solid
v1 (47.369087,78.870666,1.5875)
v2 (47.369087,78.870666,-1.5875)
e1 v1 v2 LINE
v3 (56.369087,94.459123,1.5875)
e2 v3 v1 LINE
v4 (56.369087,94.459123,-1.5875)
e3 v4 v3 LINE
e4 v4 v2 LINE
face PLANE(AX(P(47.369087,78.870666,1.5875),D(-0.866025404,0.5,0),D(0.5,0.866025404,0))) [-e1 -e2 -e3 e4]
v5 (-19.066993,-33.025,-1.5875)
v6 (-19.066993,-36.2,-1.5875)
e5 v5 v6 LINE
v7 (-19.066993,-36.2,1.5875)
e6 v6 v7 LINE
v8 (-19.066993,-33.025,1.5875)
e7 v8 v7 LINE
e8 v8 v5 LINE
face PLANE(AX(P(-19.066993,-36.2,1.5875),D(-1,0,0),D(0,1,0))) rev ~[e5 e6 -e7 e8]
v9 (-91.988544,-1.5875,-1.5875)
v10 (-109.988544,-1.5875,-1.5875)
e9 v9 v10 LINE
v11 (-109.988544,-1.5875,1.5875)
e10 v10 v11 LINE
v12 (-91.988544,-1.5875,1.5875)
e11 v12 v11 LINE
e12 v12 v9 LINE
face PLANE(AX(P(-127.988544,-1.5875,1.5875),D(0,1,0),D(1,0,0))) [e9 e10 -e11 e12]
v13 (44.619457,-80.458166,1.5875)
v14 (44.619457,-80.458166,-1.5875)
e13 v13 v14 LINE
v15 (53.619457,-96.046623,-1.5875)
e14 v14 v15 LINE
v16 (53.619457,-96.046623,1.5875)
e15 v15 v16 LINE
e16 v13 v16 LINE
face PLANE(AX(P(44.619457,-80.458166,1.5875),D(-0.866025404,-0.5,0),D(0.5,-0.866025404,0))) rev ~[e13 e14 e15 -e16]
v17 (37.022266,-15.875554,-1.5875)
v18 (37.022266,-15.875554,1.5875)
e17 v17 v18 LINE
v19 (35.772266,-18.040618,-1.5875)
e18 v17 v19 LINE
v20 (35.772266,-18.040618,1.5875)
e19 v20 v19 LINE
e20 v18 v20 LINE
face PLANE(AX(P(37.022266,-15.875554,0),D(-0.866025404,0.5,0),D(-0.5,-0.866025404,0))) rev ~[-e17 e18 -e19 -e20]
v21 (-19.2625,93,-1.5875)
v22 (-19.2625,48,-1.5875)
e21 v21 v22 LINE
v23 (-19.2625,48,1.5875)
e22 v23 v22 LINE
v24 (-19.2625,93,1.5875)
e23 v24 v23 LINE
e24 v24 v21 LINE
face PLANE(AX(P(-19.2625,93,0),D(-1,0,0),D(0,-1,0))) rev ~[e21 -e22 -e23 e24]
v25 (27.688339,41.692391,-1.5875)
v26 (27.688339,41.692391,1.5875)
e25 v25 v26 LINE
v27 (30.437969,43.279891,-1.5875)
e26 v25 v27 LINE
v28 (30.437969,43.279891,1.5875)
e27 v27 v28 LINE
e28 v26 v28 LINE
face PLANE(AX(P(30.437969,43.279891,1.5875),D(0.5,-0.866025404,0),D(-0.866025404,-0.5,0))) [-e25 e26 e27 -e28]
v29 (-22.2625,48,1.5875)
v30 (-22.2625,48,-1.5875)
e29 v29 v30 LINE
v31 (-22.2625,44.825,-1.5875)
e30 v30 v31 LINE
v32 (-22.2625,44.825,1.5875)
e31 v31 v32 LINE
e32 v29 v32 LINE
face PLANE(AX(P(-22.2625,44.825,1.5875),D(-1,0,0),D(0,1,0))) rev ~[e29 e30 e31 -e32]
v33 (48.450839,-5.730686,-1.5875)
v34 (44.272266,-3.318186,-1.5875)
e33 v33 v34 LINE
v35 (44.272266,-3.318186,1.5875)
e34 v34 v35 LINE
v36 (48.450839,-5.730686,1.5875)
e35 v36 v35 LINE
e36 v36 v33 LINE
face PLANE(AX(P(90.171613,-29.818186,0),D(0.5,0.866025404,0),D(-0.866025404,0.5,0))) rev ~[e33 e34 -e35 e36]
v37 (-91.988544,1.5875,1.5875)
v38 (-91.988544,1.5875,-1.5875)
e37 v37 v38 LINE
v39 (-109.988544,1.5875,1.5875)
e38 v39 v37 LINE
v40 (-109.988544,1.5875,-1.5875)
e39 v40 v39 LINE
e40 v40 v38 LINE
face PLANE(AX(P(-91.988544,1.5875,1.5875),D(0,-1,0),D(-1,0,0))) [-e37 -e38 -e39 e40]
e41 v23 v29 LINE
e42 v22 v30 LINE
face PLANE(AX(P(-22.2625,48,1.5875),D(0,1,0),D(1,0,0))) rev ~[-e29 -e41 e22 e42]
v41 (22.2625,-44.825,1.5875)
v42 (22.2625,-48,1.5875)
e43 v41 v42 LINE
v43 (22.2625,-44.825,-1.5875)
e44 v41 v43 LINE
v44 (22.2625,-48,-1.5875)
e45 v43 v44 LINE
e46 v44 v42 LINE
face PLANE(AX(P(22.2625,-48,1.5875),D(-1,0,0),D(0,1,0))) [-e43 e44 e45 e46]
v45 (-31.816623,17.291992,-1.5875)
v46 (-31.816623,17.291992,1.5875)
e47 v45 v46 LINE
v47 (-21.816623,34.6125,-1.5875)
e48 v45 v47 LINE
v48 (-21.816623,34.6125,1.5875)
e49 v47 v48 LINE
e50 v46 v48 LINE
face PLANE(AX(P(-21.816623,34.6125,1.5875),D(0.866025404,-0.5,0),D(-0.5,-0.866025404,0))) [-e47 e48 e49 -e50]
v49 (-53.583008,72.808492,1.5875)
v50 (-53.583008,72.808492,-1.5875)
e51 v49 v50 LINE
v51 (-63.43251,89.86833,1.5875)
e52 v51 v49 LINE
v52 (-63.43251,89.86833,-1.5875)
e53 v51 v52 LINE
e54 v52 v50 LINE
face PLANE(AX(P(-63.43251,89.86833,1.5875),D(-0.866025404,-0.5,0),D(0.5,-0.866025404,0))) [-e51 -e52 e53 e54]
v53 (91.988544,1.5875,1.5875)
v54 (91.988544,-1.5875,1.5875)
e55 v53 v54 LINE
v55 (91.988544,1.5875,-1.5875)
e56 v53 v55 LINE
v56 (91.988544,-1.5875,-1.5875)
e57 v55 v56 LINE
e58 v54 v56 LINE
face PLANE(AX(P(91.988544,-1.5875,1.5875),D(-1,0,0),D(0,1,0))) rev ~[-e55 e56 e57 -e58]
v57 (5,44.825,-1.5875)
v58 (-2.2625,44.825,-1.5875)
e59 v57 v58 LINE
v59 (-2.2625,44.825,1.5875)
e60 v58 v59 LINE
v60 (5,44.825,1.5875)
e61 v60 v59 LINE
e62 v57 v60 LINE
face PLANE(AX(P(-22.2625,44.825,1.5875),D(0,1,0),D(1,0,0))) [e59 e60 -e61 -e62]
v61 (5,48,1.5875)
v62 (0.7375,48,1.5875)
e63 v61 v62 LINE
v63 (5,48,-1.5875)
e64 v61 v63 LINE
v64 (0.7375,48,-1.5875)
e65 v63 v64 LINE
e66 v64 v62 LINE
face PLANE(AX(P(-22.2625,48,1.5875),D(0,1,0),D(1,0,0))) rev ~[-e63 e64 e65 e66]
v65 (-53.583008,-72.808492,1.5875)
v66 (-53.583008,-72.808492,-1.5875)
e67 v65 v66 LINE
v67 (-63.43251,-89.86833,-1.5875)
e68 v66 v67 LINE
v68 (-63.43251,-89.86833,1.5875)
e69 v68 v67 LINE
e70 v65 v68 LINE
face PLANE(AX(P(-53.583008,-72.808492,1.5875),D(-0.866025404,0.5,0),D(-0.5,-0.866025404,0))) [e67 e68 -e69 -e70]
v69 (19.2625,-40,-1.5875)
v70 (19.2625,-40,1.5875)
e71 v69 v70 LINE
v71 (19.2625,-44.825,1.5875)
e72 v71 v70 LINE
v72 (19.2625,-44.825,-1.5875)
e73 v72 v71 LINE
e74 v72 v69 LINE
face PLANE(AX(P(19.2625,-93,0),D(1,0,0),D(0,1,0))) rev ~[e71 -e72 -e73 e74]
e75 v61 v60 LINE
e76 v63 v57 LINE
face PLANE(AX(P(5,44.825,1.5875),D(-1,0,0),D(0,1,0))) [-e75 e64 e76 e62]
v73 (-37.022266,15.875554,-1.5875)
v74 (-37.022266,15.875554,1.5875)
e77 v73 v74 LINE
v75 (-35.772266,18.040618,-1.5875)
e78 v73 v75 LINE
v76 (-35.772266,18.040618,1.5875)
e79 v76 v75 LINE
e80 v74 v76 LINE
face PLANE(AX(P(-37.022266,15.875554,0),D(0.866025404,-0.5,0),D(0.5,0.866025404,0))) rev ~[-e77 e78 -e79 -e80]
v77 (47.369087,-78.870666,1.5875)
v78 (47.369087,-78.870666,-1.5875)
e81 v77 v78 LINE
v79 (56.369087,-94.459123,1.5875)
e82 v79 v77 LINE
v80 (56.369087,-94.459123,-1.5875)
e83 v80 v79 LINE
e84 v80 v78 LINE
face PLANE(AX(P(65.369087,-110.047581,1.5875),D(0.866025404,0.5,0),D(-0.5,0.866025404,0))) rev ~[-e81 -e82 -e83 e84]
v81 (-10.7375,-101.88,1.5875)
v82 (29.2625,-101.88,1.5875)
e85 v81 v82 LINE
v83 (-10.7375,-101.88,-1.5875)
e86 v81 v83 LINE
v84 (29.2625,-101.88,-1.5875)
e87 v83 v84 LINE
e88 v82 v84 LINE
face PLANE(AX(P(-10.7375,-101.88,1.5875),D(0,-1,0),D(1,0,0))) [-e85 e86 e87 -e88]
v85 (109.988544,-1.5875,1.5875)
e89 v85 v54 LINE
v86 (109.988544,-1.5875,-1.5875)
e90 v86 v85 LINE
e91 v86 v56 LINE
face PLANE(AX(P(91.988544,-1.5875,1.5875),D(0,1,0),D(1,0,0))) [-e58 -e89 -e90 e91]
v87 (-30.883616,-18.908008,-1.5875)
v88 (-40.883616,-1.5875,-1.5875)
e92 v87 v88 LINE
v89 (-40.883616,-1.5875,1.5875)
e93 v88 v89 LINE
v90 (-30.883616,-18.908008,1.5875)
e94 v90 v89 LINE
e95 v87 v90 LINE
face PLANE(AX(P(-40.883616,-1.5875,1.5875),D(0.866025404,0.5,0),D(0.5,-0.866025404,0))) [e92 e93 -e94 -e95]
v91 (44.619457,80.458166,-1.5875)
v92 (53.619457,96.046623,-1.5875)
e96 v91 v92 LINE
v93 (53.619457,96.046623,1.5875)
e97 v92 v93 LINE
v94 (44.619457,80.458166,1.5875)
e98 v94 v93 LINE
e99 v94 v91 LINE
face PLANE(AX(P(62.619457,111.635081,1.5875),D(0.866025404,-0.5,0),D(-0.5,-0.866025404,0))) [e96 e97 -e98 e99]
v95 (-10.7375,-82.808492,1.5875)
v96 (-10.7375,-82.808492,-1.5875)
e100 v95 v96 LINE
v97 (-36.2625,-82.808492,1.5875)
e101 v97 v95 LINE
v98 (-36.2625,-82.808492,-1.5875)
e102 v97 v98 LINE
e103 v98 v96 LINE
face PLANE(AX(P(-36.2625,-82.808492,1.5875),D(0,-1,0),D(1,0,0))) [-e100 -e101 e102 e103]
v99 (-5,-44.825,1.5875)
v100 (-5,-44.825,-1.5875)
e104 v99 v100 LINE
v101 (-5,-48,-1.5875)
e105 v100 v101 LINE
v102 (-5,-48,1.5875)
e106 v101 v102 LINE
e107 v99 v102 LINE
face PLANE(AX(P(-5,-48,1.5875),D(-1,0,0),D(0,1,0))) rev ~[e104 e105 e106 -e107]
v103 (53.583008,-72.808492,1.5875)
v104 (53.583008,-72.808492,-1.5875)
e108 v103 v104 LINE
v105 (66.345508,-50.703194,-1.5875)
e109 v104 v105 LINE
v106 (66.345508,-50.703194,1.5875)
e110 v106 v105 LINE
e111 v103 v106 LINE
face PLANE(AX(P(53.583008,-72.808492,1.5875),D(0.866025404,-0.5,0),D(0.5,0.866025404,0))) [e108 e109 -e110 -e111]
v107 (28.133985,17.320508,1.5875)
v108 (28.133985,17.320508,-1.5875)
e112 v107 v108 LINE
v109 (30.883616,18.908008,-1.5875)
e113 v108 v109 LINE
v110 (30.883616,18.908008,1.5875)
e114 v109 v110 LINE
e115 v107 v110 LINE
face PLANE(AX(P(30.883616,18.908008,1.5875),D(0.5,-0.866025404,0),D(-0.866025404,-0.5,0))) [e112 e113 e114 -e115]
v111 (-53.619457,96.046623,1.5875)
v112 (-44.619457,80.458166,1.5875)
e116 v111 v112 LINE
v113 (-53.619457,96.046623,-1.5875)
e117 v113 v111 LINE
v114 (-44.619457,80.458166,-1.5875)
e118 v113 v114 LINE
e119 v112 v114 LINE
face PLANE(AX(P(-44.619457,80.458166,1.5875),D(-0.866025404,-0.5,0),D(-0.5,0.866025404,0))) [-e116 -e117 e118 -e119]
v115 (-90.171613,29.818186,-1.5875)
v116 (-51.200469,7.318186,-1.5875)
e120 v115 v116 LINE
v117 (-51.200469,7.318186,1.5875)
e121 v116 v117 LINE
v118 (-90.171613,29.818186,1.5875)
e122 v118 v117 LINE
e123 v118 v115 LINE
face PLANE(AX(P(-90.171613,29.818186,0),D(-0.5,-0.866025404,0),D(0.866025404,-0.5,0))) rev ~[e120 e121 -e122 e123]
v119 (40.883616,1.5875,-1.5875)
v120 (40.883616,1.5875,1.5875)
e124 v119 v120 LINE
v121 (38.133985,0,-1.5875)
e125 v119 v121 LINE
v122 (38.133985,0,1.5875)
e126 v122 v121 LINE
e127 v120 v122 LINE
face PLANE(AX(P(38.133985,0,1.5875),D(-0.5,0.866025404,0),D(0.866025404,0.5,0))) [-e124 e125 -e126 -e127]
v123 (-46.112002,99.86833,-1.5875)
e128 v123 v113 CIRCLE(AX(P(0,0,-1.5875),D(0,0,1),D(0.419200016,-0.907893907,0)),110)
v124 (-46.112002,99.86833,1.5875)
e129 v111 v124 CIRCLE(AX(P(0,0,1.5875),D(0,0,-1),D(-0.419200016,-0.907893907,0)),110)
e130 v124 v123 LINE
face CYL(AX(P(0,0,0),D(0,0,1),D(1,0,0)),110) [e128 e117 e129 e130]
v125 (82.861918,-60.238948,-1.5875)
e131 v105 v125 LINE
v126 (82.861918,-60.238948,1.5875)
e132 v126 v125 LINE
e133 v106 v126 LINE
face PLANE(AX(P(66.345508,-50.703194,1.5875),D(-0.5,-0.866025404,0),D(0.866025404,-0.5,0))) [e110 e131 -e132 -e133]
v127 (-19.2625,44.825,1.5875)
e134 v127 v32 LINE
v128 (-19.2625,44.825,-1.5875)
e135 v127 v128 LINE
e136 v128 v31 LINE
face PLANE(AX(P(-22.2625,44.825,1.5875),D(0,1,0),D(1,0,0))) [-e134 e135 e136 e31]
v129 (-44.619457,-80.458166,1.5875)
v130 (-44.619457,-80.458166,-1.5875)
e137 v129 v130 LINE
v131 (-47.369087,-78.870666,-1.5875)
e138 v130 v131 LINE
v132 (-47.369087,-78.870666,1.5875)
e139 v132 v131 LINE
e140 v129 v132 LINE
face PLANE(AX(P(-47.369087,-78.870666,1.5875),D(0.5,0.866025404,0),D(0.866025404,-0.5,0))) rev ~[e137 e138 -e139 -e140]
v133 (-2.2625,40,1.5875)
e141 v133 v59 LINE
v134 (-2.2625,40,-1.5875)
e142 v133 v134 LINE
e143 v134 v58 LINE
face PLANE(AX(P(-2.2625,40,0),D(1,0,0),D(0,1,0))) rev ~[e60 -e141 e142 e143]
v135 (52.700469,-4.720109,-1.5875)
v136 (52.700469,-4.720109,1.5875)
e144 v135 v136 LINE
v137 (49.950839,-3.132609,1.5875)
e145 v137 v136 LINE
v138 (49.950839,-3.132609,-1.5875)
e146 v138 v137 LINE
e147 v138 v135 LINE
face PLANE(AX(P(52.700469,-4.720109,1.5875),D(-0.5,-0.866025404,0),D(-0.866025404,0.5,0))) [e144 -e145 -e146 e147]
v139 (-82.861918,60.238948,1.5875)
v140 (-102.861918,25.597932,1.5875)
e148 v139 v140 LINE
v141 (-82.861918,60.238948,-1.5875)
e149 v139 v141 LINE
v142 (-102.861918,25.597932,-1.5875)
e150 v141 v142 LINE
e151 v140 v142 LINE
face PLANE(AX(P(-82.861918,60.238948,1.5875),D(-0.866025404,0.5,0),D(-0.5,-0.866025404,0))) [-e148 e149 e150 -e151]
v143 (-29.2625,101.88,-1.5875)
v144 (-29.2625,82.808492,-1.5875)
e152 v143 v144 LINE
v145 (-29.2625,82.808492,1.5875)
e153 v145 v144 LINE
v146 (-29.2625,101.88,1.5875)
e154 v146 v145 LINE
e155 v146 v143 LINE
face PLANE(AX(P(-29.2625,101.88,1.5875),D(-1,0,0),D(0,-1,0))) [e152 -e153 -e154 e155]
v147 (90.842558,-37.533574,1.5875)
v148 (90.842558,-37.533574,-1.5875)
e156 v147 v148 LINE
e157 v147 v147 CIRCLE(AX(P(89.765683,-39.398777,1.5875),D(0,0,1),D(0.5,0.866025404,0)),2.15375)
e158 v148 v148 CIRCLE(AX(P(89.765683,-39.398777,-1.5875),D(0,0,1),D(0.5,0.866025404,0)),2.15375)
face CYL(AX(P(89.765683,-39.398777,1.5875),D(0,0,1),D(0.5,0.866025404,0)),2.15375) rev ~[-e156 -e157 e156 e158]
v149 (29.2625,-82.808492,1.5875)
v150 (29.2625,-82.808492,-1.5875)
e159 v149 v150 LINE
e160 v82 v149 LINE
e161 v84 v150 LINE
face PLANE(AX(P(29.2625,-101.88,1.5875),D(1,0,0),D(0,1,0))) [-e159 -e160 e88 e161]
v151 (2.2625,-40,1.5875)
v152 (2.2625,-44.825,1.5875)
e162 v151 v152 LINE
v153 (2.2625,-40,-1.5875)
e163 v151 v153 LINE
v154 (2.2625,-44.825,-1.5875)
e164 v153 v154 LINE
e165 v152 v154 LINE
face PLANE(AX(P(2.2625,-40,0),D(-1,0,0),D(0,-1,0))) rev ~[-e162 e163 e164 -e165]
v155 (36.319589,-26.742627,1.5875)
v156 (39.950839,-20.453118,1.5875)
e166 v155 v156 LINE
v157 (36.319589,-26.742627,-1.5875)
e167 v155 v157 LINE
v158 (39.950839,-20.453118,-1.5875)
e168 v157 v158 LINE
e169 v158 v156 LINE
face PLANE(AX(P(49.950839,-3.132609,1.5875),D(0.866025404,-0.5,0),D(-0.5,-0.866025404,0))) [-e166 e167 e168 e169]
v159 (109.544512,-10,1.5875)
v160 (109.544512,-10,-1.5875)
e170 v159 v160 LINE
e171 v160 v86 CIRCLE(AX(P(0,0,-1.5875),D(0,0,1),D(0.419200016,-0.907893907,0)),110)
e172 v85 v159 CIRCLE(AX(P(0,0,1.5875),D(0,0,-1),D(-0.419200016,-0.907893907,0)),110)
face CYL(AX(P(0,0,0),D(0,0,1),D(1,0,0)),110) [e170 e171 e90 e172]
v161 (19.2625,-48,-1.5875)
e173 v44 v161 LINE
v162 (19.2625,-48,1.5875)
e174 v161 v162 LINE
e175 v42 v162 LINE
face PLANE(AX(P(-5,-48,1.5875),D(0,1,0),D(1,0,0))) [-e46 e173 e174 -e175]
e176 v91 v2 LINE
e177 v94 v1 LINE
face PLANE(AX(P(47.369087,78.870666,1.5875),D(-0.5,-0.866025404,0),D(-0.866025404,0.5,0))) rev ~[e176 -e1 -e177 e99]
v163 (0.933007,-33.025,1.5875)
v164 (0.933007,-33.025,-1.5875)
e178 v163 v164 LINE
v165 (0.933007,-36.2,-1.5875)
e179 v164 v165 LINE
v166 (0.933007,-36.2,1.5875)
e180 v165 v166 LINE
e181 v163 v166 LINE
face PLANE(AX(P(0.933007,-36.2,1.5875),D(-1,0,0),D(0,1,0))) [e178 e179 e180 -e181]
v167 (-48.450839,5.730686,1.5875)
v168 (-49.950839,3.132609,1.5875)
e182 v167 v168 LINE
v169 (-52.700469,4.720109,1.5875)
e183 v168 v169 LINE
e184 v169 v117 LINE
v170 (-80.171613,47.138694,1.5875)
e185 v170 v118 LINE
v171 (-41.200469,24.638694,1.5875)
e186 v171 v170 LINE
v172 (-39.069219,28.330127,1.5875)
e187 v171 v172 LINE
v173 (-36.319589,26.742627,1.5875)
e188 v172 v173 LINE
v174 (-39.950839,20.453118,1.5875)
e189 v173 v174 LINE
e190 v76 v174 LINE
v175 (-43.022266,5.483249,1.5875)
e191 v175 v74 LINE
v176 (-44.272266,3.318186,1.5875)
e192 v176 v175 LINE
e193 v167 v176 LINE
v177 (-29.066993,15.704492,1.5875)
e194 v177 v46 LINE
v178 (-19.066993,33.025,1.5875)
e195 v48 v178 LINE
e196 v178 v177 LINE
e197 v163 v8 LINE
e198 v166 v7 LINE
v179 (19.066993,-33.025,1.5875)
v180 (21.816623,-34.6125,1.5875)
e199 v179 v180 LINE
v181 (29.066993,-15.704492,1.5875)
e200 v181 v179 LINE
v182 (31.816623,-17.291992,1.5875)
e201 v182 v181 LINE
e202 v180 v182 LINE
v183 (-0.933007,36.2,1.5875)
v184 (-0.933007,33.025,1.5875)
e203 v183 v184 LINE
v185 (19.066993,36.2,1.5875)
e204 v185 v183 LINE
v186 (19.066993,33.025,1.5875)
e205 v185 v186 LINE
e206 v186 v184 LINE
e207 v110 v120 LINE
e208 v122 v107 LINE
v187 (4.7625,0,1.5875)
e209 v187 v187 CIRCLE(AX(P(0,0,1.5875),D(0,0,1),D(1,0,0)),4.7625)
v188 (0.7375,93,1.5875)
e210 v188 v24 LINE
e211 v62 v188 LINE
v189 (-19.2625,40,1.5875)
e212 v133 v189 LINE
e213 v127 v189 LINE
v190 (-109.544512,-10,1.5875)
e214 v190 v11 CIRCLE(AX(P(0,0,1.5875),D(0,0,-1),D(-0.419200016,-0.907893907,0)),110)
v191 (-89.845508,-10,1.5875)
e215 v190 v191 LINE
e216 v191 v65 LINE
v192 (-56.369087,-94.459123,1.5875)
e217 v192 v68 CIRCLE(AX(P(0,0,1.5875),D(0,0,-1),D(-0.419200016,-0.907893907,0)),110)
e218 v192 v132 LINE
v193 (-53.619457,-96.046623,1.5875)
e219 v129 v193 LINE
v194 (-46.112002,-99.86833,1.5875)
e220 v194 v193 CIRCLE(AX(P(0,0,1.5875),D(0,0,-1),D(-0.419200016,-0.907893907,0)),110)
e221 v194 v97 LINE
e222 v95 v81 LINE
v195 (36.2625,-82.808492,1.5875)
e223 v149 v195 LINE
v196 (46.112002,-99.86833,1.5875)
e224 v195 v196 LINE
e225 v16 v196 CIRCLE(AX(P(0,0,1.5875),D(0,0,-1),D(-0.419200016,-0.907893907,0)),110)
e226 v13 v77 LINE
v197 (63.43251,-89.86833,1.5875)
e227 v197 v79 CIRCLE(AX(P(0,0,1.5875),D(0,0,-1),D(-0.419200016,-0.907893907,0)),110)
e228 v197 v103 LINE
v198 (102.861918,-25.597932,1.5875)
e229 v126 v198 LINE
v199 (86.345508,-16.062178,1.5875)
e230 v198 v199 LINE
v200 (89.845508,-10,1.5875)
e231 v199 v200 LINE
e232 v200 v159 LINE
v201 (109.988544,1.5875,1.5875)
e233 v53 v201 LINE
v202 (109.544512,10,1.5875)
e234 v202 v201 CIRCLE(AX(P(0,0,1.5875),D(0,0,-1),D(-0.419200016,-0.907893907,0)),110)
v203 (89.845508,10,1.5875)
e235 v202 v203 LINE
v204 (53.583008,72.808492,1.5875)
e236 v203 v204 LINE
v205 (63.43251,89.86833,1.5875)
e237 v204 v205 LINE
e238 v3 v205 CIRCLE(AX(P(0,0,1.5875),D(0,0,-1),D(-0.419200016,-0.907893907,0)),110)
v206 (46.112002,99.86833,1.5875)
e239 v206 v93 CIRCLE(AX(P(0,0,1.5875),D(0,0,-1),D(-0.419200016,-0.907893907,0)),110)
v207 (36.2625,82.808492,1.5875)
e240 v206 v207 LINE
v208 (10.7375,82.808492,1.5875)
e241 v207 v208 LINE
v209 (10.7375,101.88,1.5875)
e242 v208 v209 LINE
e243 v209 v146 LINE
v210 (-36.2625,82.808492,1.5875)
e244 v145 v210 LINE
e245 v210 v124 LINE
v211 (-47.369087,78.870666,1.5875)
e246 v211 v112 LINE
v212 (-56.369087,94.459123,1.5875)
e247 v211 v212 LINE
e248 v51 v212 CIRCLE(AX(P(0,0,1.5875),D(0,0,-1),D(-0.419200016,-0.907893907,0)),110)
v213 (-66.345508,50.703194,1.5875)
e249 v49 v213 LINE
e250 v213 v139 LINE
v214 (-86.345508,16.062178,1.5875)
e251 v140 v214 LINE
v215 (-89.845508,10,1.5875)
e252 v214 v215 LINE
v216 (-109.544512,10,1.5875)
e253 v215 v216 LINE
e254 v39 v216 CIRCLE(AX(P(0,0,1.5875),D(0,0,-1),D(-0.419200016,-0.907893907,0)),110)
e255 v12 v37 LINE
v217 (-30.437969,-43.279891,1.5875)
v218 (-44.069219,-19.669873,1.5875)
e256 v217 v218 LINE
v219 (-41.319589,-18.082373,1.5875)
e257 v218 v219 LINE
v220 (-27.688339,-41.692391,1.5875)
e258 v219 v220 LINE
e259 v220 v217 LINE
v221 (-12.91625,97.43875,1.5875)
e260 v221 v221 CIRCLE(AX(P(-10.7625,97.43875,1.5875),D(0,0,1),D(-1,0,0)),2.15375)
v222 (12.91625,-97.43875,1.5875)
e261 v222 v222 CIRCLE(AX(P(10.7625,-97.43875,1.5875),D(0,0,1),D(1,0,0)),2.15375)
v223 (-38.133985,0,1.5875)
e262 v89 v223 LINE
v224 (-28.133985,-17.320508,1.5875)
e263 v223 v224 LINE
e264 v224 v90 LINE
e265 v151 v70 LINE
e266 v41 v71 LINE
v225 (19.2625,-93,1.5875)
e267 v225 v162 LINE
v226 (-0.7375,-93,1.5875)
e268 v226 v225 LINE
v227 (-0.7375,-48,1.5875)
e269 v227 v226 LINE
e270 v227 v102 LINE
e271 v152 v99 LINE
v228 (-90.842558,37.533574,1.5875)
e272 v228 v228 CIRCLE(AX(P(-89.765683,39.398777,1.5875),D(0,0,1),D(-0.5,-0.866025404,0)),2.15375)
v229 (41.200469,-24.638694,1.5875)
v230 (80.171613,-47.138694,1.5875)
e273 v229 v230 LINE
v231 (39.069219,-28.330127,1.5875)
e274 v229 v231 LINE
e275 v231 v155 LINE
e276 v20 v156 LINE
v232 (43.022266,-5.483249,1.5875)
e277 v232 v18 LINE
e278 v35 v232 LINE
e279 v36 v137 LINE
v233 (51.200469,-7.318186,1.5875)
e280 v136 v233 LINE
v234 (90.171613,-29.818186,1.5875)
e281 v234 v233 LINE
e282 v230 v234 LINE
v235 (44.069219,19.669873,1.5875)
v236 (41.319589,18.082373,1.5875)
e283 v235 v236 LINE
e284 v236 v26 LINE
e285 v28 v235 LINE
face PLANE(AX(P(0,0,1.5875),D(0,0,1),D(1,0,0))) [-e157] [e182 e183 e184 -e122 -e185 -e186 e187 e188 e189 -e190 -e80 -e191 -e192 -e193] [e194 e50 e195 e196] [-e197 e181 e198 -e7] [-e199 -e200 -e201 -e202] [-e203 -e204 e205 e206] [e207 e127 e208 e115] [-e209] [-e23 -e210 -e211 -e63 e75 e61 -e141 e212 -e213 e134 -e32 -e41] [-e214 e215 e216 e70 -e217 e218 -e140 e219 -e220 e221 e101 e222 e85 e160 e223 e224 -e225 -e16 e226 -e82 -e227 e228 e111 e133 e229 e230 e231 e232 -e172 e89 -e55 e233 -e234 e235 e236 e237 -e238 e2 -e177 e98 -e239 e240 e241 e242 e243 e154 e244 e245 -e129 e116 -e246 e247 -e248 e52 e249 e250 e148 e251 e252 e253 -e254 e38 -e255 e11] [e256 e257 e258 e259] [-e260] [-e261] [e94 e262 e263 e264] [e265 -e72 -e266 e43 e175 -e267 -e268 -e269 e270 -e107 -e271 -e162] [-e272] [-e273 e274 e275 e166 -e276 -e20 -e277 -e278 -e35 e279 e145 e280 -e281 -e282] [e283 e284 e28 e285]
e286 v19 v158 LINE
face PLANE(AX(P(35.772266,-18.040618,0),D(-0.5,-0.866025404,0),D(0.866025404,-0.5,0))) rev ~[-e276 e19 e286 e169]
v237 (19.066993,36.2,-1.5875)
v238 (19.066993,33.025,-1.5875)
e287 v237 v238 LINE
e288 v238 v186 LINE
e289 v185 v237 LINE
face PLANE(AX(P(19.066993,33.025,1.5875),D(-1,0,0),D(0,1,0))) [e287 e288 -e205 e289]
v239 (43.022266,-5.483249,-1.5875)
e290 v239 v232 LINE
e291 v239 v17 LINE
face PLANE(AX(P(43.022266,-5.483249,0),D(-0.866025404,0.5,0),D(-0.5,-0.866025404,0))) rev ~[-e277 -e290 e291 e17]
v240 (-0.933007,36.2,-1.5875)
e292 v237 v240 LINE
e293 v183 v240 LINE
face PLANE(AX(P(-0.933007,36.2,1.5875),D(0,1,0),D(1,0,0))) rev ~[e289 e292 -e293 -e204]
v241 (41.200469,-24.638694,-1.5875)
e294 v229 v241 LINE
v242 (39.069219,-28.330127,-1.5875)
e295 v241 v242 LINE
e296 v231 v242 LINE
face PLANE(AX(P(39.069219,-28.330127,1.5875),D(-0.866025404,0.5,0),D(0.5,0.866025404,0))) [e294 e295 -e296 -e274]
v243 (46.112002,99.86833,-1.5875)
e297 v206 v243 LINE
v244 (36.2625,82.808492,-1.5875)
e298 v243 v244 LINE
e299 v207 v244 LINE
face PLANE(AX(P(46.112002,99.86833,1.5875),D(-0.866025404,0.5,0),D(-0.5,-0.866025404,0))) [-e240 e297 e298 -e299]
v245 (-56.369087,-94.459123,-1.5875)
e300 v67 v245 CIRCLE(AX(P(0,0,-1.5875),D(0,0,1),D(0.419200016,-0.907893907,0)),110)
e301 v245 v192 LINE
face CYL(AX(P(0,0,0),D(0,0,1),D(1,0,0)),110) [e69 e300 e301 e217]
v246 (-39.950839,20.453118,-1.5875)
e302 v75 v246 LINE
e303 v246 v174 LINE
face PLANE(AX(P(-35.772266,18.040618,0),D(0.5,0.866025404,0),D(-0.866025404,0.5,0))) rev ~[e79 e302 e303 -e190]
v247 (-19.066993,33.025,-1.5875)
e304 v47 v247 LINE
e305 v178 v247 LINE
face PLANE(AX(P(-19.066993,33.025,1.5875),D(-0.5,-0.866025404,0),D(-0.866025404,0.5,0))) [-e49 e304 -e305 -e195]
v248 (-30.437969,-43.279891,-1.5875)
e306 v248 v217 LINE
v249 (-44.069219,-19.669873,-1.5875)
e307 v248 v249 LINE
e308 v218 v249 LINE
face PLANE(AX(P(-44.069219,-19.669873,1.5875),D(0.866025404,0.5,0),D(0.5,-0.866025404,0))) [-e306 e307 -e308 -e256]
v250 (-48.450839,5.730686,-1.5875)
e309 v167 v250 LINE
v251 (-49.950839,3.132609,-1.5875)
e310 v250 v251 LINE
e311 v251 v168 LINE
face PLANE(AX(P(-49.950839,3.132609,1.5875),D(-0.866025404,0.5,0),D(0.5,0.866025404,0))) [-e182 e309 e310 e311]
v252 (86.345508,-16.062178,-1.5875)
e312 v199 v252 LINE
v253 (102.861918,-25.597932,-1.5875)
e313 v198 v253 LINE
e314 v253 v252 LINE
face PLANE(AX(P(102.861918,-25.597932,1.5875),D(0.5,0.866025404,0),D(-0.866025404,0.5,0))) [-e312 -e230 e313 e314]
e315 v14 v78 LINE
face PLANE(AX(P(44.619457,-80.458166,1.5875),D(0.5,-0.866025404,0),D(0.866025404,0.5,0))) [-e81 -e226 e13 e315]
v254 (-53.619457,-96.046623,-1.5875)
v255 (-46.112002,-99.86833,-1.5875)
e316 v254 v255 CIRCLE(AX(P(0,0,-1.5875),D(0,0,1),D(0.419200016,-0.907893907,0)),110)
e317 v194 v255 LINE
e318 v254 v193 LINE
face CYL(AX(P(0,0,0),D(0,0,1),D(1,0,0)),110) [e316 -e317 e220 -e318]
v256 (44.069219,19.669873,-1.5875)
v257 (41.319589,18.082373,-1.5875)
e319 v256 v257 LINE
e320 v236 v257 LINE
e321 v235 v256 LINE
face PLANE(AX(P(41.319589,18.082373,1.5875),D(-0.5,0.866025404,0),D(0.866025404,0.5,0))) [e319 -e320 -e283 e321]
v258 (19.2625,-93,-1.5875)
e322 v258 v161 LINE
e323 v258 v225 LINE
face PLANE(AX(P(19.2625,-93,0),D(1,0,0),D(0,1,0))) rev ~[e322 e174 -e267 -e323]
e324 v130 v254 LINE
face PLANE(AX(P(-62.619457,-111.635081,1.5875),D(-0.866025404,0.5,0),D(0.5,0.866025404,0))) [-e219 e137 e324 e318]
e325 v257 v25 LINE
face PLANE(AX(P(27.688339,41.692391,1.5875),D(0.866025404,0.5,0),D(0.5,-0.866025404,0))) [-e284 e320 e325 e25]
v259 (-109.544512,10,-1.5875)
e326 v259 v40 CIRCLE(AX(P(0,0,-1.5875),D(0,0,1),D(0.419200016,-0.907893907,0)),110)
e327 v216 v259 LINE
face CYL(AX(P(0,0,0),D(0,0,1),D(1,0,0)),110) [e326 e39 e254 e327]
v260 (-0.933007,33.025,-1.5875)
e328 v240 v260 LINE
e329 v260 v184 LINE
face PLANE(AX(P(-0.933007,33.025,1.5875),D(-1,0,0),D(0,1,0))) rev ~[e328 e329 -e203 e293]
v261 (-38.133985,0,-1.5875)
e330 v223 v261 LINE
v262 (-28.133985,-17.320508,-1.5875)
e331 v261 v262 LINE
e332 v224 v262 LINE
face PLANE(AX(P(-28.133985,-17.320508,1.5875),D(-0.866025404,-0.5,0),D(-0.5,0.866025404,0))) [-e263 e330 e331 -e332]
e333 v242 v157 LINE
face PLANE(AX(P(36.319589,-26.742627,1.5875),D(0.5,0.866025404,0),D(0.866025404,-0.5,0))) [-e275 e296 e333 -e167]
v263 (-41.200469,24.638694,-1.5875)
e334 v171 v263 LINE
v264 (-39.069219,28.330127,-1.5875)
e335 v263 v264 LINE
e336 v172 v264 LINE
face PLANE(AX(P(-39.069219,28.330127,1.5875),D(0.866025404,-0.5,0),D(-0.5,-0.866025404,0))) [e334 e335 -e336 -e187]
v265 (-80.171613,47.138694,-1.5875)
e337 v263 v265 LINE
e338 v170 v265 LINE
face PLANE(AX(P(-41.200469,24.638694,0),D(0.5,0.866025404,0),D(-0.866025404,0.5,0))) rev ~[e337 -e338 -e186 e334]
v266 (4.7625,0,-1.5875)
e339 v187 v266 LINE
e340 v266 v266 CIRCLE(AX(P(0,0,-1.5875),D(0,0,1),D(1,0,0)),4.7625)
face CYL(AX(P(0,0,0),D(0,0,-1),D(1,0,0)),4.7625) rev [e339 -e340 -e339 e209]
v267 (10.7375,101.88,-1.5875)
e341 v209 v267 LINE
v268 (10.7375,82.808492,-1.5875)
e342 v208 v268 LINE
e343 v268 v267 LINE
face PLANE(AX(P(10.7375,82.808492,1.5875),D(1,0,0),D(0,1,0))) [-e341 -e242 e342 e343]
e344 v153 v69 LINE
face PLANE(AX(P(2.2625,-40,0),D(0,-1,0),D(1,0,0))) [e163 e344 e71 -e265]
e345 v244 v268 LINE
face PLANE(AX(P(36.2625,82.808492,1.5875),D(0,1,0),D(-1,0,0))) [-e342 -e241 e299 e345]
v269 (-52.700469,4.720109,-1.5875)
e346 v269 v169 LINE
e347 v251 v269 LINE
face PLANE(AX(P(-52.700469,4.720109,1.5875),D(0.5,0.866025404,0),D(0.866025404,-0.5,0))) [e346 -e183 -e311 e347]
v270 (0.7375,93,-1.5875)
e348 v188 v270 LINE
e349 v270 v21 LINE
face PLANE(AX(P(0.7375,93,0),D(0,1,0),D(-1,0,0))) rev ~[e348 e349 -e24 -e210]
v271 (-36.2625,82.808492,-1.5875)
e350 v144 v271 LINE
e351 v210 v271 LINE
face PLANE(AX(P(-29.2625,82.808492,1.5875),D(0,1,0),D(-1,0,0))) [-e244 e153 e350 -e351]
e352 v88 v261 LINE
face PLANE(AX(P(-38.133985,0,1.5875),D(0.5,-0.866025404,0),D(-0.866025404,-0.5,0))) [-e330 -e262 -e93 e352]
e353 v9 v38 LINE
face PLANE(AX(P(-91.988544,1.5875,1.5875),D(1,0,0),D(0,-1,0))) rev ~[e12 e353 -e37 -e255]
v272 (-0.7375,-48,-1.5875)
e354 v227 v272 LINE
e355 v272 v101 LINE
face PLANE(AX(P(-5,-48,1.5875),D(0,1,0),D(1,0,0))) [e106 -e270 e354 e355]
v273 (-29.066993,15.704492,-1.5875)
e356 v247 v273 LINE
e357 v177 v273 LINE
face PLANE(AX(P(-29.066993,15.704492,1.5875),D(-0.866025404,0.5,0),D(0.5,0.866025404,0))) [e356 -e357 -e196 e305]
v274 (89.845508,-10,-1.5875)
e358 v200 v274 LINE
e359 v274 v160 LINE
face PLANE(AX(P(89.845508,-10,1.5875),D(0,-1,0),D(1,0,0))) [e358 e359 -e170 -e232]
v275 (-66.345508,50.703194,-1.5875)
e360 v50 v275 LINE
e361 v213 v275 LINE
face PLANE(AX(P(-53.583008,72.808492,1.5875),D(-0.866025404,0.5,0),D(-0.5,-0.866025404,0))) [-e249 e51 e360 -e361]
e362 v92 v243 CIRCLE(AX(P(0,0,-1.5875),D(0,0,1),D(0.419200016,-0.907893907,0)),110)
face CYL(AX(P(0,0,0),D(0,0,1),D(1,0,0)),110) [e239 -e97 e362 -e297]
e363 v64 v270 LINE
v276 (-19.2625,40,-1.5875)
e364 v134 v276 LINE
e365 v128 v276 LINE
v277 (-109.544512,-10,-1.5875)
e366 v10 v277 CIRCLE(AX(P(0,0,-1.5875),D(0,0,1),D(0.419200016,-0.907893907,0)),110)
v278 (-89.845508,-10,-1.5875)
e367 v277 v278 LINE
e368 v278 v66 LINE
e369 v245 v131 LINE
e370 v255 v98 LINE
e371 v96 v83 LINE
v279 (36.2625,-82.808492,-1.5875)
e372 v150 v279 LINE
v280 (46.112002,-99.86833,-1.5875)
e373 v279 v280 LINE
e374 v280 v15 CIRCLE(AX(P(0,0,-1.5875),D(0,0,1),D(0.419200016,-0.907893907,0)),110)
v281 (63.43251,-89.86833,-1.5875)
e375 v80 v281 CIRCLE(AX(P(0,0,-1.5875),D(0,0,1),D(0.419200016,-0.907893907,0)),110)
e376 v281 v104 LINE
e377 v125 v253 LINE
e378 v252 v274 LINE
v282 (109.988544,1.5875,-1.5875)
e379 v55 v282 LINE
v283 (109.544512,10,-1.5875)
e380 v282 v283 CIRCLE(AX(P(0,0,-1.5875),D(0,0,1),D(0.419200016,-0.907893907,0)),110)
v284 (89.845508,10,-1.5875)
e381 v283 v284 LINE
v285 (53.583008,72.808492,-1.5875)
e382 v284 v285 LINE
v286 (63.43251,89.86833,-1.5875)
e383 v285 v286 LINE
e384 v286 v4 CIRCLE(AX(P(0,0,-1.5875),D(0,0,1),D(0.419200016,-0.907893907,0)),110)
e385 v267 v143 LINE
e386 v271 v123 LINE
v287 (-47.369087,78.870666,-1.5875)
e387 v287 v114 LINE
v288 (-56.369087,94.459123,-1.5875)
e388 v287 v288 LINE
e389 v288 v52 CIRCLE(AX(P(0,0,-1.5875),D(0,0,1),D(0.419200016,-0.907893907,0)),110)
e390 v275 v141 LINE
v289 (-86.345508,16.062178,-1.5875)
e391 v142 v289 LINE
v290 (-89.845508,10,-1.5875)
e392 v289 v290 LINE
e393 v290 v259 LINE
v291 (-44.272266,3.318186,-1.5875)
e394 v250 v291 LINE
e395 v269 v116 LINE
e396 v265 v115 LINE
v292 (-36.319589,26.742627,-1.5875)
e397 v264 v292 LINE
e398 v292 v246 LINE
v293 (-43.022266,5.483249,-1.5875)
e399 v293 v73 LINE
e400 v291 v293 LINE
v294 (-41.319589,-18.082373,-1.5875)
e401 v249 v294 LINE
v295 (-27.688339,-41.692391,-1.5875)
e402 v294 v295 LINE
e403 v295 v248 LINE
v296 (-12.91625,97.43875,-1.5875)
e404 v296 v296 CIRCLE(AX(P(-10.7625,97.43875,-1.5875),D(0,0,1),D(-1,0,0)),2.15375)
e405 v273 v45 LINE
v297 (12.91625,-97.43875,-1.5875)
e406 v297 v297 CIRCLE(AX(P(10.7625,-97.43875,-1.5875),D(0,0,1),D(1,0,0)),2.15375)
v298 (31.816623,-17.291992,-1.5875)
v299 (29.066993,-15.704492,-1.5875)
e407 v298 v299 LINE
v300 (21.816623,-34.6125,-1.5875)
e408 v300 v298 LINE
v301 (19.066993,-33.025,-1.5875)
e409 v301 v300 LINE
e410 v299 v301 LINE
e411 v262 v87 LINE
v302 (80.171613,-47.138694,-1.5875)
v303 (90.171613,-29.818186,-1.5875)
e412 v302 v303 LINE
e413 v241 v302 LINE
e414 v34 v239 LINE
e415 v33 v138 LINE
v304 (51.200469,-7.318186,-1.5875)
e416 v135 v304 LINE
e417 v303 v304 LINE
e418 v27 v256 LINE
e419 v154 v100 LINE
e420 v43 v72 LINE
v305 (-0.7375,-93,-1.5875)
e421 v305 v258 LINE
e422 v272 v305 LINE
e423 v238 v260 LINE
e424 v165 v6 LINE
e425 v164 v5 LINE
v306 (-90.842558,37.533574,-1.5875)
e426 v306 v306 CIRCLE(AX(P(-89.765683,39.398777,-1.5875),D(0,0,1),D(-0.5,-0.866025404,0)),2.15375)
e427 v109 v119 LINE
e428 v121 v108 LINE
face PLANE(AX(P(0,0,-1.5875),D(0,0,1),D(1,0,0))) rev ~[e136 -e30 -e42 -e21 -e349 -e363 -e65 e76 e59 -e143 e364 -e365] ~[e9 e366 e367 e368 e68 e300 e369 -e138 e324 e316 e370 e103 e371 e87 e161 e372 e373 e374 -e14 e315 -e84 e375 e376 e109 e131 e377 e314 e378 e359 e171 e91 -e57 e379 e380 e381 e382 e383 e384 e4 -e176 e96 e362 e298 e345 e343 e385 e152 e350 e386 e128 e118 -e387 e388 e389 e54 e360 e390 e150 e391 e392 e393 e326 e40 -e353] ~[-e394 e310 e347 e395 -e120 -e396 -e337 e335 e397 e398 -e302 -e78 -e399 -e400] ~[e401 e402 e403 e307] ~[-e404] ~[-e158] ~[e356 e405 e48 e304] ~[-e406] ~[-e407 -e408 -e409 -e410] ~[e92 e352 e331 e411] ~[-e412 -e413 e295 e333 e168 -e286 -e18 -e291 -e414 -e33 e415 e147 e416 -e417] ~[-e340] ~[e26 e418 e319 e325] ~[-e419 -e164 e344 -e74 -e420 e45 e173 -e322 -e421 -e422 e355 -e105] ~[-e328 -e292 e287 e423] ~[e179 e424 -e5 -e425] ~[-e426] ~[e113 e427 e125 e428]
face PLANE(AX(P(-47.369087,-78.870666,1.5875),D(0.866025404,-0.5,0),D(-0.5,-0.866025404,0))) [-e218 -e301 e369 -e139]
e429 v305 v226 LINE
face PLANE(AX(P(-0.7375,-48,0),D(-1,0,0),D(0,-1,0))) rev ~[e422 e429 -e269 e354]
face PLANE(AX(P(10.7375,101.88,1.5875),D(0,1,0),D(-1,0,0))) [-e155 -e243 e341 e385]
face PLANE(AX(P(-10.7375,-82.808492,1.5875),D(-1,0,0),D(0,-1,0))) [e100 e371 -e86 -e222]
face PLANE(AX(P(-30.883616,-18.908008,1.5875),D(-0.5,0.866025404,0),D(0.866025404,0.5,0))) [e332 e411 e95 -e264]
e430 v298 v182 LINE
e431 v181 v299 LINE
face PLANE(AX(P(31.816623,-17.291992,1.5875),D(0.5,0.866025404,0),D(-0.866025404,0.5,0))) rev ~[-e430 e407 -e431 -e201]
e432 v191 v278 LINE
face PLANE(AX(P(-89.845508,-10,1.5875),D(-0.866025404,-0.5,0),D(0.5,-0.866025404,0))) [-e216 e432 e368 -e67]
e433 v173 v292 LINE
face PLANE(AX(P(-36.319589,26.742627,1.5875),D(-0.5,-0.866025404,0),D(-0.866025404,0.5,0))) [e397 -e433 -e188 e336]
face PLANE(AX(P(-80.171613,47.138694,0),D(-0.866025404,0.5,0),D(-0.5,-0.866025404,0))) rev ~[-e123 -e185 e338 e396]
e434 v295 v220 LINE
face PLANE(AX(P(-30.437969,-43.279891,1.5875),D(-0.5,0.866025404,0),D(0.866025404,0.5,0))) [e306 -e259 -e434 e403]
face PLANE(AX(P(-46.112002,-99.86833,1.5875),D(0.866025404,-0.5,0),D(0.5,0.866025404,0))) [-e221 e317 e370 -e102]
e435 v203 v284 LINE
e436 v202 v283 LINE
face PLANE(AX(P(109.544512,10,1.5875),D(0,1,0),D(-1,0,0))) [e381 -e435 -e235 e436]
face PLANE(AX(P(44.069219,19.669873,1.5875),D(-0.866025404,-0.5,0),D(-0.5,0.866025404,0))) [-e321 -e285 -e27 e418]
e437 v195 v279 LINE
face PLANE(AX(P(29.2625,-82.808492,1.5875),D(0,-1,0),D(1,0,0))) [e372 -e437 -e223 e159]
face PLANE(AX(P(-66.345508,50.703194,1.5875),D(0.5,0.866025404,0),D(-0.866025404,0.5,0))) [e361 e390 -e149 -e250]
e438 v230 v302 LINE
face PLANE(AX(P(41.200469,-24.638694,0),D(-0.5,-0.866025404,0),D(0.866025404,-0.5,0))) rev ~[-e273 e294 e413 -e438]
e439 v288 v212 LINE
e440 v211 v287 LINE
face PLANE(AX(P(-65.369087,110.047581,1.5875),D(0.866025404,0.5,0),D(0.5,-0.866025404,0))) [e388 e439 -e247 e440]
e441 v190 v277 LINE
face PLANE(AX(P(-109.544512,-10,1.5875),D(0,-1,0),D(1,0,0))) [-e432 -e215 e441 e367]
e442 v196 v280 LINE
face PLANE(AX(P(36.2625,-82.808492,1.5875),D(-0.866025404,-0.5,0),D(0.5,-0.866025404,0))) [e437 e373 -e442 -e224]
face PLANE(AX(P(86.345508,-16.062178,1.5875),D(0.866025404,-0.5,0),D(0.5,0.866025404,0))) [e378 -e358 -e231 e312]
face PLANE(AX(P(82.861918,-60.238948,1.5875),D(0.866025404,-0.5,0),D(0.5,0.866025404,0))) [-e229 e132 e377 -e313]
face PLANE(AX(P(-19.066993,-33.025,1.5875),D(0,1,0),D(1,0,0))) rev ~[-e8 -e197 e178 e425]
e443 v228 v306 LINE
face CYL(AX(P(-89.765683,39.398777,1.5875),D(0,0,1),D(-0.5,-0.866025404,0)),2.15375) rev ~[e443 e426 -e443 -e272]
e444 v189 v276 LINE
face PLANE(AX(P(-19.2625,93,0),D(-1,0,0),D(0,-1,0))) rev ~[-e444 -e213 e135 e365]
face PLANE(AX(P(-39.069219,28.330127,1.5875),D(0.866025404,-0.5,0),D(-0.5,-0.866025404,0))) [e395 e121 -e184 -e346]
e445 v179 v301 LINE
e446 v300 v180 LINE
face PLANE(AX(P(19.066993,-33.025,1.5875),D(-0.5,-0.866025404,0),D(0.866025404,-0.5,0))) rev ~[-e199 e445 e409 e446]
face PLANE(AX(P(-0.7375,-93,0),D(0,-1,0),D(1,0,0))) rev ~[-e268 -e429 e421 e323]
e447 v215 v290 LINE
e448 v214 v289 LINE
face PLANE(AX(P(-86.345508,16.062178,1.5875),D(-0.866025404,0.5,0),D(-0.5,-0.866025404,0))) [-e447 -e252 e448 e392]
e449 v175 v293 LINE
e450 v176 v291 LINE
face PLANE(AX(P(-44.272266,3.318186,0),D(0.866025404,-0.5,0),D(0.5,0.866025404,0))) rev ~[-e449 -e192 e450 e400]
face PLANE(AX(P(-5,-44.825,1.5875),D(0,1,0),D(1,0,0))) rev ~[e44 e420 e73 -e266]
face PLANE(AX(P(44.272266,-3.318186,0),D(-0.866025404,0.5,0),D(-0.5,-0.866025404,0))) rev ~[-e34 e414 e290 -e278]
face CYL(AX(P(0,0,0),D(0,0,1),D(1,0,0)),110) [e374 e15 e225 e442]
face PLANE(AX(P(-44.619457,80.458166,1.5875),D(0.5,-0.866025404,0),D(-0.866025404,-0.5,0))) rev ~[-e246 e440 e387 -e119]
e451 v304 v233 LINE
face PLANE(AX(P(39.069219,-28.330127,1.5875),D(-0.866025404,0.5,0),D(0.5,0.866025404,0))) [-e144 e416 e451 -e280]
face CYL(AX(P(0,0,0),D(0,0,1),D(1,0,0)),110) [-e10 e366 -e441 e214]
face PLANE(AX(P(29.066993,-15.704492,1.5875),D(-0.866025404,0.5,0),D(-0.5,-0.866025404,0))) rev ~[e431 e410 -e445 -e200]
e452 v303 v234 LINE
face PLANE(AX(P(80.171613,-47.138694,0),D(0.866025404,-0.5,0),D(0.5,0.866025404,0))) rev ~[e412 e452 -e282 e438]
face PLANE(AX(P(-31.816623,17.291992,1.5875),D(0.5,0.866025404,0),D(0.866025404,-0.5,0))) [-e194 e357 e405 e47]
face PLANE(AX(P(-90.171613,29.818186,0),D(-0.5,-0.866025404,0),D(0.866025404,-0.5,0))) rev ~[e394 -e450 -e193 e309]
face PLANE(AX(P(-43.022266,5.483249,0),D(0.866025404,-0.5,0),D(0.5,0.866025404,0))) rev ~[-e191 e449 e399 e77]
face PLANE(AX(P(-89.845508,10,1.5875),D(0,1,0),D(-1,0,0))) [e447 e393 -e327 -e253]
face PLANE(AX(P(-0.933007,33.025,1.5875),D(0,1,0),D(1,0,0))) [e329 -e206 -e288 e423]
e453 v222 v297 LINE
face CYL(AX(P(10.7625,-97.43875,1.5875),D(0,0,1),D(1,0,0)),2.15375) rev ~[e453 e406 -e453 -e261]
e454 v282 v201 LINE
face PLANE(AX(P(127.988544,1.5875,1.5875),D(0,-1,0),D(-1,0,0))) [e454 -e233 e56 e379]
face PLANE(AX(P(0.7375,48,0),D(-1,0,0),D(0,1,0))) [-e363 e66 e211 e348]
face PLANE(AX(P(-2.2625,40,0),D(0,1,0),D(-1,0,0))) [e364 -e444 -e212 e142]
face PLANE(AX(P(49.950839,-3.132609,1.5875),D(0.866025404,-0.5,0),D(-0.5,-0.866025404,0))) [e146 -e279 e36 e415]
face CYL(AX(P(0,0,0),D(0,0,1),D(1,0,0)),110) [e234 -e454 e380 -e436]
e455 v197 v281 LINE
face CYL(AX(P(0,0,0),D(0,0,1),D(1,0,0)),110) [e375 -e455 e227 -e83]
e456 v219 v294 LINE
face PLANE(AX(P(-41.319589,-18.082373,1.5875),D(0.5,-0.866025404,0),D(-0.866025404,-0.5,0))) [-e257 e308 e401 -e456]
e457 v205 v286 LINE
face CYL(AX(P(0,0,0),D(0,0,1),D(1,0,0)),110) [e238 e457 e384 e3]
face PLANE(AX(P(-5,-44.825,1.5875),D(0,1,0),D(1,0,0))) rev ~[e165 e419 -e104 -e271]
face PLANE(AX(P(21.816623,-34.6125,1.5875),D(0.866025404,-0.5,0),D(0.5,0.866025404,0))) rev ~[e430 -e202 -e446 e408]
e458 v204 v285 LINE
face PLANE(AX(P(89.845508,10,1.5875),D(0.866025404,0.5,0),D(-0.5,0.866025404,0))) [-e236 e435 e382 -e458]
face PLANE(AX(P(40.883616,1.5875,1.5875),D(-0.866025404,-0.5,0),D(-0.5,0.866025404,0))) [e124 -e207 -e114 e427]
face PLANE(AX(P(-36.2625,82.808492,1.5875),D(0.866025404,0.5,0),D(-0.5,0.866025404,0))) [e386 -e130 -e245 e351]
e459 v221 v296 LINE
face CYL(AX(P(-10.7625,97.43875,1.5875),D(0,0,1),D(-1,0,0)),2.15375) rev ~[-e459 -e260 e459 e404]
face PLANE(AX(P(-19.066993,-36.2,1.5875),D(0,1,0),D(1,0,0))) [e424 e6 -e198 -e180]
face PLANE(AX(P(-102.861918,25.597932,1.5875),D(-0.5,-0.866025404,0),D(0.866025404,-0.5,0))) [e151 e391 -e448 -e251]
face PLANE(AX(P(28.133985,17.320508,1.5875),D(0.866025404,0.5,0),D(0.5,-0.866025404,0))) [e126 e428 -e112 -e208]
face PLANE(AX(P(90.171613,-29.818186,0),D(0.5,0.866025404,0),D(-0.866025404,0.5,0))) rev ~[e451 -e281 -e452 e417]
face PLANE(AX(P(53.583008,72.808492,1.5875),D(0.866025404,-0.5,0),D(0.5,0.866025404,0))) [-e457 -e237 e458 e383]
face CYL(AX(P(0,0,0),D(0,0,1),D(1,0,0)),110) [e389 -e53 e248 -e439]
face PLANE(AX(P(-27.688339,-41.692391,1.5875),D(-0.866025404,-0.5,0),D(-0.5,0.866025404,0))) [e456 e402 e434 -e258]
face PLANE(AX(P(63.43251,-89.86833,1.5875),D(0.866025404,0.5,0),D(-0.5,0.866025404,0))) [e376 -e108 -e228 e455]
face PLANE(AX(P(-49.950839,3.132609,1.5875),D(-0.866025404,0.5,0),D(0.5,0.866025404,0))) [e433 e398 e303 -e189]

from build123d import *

# Parameters (mm, degrees)
SKETCH1_R                   = 110
SKETCH1_R_2                 = 4.7625
BOSS_EXTRUDE1_DEPTH         = 1.5875
SKETCH2_R                   = 2.15375
CUT_EXTRUDE3_DEPTH          = 4.175
CIRPATTERN1_COUNT           = 2
CIRPATTERN2_COUNT           = 2
CIRPATTERN2_ANGLE           = 60
CIRPATTERN2_COPY_1_SKETCH_R = 2.15375
CIRPATTERN2_COPY_1_DEPTH    = 4.175
CUT_EXTRUDE5_DEPTH          = 4.175
CUT_EXTRUDE8_DEPTH          = 5
SKETCH11_W                  = 27.2625
SKETCH11_H                  = 3.175
SKETCH11_W_2                = 20
CUT_EXTRUDE24_DEPTH         = 5


with BuildPart() as part:
    # Sketch1 → Boss-Extrude1 (new body, symmetric)
    with BuildSketch(Plane.XY):
        Circle(SKETCH1_R)
        Circle(SKETCH1_R_2, mode=Mode.SUBTRACT)
        Polygon((-4.7625, 40), (-2.2625, 40), (-2.2625, 48), (0.7375, 48), (0.7375, 93), (-19.2625, 93), (-19.2625, 40), (-16.7625, 40), align=None, mode=Mode.SUBTRACT)
        Polygon((4.7625, -40), (2.2625, -40), (2.2625, -48), (-0.7375, -48), (-0.7375, -93), (19.2625, -93), (19.2625, -40), (16.7625, -40), align=None, mode=Mode.SUBTRACT)
        Polygon((37.022266151, -15.875554014), (35.772266151, -18.040617524), (42.700469382, -22.040617524), (41.200469382, -24.638693735), (80.171612552, -47.138693735), (90.171612552, -29.81818566), (44.272266151, -3.31818566), (43.022266151, -5.483249169), align=None, mode=Mode.SUBTRACT)
        Polygon((-37.022266151, 15.875554014), (-35.772266151, 18.040617524), (-42.700469382, 22.040617524), (-41.200469382, 24.638693735), (-80.171612552, 47.138693735), (-90.171612552, 29.81818566), (-44.272266151, 3.31818566), (-43.022266151, 5.483249169), align=None, mode=Mode.SUBTRACT)
    extrude(amount=BOSS_EXTRUDE1_DEPTH, both=True)

    # Sketch2 → Cut-Extrude3 (cut, through all)
    with BuildSketch(Plane.XY.offset(1.5875)):
        with Locations((10.7625, -97.43875)):
            Circle(SKETCH2_R)
        with BuildLine():
            Line((-10.7375, -82.808492409), (-10.7375, -101.88))
            Line((-10.7375, -101.88), (9.2625, -101.88))
            Line((9.2625, -101.88), (29.2625, -101.88))
            Line((29.2625, -101.88), (29.2625, -82.808492409))
            Line((29.2625, -82.808492409), (36.2625, -82.808492409))
            Line((36.2625, -82.808492409), (46.112001713, -99.868329805))
            ThreePointArc((46.112001713, -99.868329805), (0, -110), (-46.112001713, -99.868329805))
            Line((-46.112001713, -99.868329805), (-36.2625, -82.808492409))
            Line((-36.2625, -82.808492409), (-10.7375, -82.808492409))
        make_face()
    cut_extrude3 = extrude(amount=-CUT_EXTRUDE3_DEPTH, mode=Mode.SUBTRACT)

    # CirPattern1: Cut-Extrude3 ×2 about axis
    cirpattern1_axis = Axis((0, 0, 0), (0, 0, 1))
    for i in range(1, CIRPATTERN1_COUNT):
        add(cut_extrude3.rotate(cirpattern1_axis, i * 360 / CIRPATTERN1_COUNT), mode=Mode.SUBTRACT)

    # CirPattern2: Cut-Extrude3 ×2 about axis
    cirpattern2_axis = Axis((0, 0, 0), (0, 0, 1))
    for i in range(1, CIRPATTERN2_COUNT):
        add(cut_extrude3.rotate(cirpattern2_axis, i * CIRPATTERN2_ANGLE / (CIRPATTERN2_COUNT - 1)), mode=Mode.SUBTRACT)

    # CirPattern2 copy 1 sketch → CirPattern2 copy 1 (cut, through all)
    with BuildSketch(Plane(origin=(0, 0, 1.5875), x_dir=(-0.5, -0.866025404, 0), z_dir=(0, 0, 1))):
        with Locations((10.7625, -97.43875)):
            Circle(CIRPATTERN2_COPY_1_SKETCH_R)
        with BuildLine():
            Line((-10.7375, -82.808492409), (-10.7375, -101.88))
            Line((-10.7375, -101.88), (9.2625, -101.88))
            Line((9.2625, -101.88), (29.2625, -101.88))
            Line((29.2625, -101.88), (29.2625, -82.808492409))
            Line((29.2625, -82.808492409), (36.2625, -82.808492409))
            Line((36.2625, -82.808492409), (46.112001713, -99.868329805))
            ThreePointArc((46.112001713, -99.868329805), (0, -110), (-46.112001713, -99.868329805))
            Line((-46.112001713, -99.868329805), (-36.2625, -82.808492409))
            Line((-36.2625, -82.808492409), (-10.7375, -82.808492409))
        make_face()
    extrude(amount=-CIRPATTERN2_COPY_1_DEPTH, mode=Mode.SUBTRACT)

    # Sketch5 → Cut-Extrude5 (cut, through all)
    with BuildSketch(Plane.XY.offset(1.5875)):
        with BuildLine():
            Line((89.845508076, 10), (53.583008076, 72.808492409))
            Line((53.583008076, 72.808492409), (63.432509788, 89.868329805))
            ThreePointArc((63.432509788, 89.868329805), (95.262794416, 55), (109.544511501, 10))
            Line((109.544511501, 10), (89.845508076, 10))
        make_face()
        with BuildLine():
            Line((-89.845508076, -10), (-53.583008076, -72.808492409))
            Line((-53.583008076, -72.808492409), (-63.432509788, -89.868329805))
            ThreePointArc((-63.432509788, -89.868329805), (-95.262794416, -55), (-109.544511501, -10))
            Line((-109.544511501, -10), (-89.845508076, -10))
        make_face()
    extrude(amount=-CUT_EXTRUDE5_DEPTH, mode=Mode.SUBTRACT)

    # Sketch10 → Cut-Extrude8 (cut, symmetric)
    with BuildSketch(Plane.XY.offset(1.5875)):
        Polygon((-65.369087402, -110.047580625), (-56.369087402, -94.459123357), (-47.369087402, -78.870666089), (-44.619456745, -80.458166089), (-53.619456745, -96.046623357), (-62.619456745, -111.635080625), align=None)
        Polygon((-127.988544148, 1.5875), (-109.988544148, 1.5875), (-91.988544148, 1.5875), (-91.988544148, -1.5875), (-109.988544148, -1.5875), (-127.988544148, -1.5875), align=None)
        Polygon((-62.619456745, 111.635080625), (-53.619456745, 96.046623357), (-44.619456745, 80.458166089), (-47.369087402, 78.870666089), (-56.369087402, 94.459123357), (-65.369087402, 110.047580625), align=None)
        Polygon((65.369087402, 110.047580625), (56.369087402, 94.459123357), (47.369087402, 78.870666089), (44.619456745, 80.458166089), (53.619456745, 96.046623357), (62.619456745, 111.635080625), align=None)
        Polygon((127.988544148, -1.5875), (109.988544148, -1.5875), (91.988544148, -1.5875), (91.988544148, 1.5875), (109.988544148, 1.5875), (127.988544148, 1.5875), align=None)
        Polygon((62.619456745, -111.635080625), (53.619456745, -96.046623357), (44.619456745, -80.458166089), (47.369087402, -78.870666089), (56.369087402, -94.459123357), (65.369087402, -110.047580625), align=None)
    extrude(amount=CUT_EXTRUDE8_DEPTH, both=True, mode=Mode.SUBTRACT)

    # Sketch11 → Cut-Extrude24 (cut, symmetric)
    with BuildSketch(Plane.XY.offset(1.5875)):
        with Locations((8.63125, -46.4125)):
            Rectangle(SKETCH11_W, SKETCH11_H)
        Polygon((-44.069219382, -19.669872981), (-30.437969382, -43.279890552), (-27.688338725, -41.692390552), (-41.319588725, -18.082372981), align=None)
        with Locations((-9.06699264, -34.6125)):
            Rectangle(SKETCH11_W_2, SKETCH11_H)
        Polygon((-38.13398528, 0), (-40.883615937, -1.5875), (-30.883615937, -18.908008076), (-28.13398528, -17.320508076), align=None)
        Polygon((-39.069219382, 28.330127019), (-52.700469382, 4.720109448), (-49.950838725, 3.132609448), (-36.319588725, 26.742627019), align=None)
        Polygon((-19.06699264, 33.025), (-21.816623297, 34.6125), (-31.816623297, 17.291991924), (-29.06699264, 15.704491924), align=None)
        with Locations((-8.63125, 46.4125)):
            Rectangle(SKETCH11_W, SKETCH11_H)
        with Locations((9.06699264, 34.6125)):
            Rectangle(SKETCH11_W_2, SKETCH11_H)
        Polygon((44.069219382, 19.669872981), (30.437969382, 43.279890552), (27.688338725, 41.692390552), (41.319588725, 18.082372981), align=None)
        Polygon((38.13398528, 0), (40.883615937, 1.5875), (30.883615937, 18.908008076), (28.13398528, 17.320508076), align=None)
        Polygon((39.069219382, -28.330127019), (52.700469382, -4.720109448), (49.950838725, -3.132609448), (36.319588725, -26.742627019), align=None)
        Polygon((19.06699264, -33.025), (21.816623297, -34.6125), (31.816623297, -17.291991924), (29.06699264, -15.704491924), align=None)
    extrude(amount=CUT_EXTRUDE24_DEPTH, both=True, mode=Mode.SUBTRACT)


solid = part.part
